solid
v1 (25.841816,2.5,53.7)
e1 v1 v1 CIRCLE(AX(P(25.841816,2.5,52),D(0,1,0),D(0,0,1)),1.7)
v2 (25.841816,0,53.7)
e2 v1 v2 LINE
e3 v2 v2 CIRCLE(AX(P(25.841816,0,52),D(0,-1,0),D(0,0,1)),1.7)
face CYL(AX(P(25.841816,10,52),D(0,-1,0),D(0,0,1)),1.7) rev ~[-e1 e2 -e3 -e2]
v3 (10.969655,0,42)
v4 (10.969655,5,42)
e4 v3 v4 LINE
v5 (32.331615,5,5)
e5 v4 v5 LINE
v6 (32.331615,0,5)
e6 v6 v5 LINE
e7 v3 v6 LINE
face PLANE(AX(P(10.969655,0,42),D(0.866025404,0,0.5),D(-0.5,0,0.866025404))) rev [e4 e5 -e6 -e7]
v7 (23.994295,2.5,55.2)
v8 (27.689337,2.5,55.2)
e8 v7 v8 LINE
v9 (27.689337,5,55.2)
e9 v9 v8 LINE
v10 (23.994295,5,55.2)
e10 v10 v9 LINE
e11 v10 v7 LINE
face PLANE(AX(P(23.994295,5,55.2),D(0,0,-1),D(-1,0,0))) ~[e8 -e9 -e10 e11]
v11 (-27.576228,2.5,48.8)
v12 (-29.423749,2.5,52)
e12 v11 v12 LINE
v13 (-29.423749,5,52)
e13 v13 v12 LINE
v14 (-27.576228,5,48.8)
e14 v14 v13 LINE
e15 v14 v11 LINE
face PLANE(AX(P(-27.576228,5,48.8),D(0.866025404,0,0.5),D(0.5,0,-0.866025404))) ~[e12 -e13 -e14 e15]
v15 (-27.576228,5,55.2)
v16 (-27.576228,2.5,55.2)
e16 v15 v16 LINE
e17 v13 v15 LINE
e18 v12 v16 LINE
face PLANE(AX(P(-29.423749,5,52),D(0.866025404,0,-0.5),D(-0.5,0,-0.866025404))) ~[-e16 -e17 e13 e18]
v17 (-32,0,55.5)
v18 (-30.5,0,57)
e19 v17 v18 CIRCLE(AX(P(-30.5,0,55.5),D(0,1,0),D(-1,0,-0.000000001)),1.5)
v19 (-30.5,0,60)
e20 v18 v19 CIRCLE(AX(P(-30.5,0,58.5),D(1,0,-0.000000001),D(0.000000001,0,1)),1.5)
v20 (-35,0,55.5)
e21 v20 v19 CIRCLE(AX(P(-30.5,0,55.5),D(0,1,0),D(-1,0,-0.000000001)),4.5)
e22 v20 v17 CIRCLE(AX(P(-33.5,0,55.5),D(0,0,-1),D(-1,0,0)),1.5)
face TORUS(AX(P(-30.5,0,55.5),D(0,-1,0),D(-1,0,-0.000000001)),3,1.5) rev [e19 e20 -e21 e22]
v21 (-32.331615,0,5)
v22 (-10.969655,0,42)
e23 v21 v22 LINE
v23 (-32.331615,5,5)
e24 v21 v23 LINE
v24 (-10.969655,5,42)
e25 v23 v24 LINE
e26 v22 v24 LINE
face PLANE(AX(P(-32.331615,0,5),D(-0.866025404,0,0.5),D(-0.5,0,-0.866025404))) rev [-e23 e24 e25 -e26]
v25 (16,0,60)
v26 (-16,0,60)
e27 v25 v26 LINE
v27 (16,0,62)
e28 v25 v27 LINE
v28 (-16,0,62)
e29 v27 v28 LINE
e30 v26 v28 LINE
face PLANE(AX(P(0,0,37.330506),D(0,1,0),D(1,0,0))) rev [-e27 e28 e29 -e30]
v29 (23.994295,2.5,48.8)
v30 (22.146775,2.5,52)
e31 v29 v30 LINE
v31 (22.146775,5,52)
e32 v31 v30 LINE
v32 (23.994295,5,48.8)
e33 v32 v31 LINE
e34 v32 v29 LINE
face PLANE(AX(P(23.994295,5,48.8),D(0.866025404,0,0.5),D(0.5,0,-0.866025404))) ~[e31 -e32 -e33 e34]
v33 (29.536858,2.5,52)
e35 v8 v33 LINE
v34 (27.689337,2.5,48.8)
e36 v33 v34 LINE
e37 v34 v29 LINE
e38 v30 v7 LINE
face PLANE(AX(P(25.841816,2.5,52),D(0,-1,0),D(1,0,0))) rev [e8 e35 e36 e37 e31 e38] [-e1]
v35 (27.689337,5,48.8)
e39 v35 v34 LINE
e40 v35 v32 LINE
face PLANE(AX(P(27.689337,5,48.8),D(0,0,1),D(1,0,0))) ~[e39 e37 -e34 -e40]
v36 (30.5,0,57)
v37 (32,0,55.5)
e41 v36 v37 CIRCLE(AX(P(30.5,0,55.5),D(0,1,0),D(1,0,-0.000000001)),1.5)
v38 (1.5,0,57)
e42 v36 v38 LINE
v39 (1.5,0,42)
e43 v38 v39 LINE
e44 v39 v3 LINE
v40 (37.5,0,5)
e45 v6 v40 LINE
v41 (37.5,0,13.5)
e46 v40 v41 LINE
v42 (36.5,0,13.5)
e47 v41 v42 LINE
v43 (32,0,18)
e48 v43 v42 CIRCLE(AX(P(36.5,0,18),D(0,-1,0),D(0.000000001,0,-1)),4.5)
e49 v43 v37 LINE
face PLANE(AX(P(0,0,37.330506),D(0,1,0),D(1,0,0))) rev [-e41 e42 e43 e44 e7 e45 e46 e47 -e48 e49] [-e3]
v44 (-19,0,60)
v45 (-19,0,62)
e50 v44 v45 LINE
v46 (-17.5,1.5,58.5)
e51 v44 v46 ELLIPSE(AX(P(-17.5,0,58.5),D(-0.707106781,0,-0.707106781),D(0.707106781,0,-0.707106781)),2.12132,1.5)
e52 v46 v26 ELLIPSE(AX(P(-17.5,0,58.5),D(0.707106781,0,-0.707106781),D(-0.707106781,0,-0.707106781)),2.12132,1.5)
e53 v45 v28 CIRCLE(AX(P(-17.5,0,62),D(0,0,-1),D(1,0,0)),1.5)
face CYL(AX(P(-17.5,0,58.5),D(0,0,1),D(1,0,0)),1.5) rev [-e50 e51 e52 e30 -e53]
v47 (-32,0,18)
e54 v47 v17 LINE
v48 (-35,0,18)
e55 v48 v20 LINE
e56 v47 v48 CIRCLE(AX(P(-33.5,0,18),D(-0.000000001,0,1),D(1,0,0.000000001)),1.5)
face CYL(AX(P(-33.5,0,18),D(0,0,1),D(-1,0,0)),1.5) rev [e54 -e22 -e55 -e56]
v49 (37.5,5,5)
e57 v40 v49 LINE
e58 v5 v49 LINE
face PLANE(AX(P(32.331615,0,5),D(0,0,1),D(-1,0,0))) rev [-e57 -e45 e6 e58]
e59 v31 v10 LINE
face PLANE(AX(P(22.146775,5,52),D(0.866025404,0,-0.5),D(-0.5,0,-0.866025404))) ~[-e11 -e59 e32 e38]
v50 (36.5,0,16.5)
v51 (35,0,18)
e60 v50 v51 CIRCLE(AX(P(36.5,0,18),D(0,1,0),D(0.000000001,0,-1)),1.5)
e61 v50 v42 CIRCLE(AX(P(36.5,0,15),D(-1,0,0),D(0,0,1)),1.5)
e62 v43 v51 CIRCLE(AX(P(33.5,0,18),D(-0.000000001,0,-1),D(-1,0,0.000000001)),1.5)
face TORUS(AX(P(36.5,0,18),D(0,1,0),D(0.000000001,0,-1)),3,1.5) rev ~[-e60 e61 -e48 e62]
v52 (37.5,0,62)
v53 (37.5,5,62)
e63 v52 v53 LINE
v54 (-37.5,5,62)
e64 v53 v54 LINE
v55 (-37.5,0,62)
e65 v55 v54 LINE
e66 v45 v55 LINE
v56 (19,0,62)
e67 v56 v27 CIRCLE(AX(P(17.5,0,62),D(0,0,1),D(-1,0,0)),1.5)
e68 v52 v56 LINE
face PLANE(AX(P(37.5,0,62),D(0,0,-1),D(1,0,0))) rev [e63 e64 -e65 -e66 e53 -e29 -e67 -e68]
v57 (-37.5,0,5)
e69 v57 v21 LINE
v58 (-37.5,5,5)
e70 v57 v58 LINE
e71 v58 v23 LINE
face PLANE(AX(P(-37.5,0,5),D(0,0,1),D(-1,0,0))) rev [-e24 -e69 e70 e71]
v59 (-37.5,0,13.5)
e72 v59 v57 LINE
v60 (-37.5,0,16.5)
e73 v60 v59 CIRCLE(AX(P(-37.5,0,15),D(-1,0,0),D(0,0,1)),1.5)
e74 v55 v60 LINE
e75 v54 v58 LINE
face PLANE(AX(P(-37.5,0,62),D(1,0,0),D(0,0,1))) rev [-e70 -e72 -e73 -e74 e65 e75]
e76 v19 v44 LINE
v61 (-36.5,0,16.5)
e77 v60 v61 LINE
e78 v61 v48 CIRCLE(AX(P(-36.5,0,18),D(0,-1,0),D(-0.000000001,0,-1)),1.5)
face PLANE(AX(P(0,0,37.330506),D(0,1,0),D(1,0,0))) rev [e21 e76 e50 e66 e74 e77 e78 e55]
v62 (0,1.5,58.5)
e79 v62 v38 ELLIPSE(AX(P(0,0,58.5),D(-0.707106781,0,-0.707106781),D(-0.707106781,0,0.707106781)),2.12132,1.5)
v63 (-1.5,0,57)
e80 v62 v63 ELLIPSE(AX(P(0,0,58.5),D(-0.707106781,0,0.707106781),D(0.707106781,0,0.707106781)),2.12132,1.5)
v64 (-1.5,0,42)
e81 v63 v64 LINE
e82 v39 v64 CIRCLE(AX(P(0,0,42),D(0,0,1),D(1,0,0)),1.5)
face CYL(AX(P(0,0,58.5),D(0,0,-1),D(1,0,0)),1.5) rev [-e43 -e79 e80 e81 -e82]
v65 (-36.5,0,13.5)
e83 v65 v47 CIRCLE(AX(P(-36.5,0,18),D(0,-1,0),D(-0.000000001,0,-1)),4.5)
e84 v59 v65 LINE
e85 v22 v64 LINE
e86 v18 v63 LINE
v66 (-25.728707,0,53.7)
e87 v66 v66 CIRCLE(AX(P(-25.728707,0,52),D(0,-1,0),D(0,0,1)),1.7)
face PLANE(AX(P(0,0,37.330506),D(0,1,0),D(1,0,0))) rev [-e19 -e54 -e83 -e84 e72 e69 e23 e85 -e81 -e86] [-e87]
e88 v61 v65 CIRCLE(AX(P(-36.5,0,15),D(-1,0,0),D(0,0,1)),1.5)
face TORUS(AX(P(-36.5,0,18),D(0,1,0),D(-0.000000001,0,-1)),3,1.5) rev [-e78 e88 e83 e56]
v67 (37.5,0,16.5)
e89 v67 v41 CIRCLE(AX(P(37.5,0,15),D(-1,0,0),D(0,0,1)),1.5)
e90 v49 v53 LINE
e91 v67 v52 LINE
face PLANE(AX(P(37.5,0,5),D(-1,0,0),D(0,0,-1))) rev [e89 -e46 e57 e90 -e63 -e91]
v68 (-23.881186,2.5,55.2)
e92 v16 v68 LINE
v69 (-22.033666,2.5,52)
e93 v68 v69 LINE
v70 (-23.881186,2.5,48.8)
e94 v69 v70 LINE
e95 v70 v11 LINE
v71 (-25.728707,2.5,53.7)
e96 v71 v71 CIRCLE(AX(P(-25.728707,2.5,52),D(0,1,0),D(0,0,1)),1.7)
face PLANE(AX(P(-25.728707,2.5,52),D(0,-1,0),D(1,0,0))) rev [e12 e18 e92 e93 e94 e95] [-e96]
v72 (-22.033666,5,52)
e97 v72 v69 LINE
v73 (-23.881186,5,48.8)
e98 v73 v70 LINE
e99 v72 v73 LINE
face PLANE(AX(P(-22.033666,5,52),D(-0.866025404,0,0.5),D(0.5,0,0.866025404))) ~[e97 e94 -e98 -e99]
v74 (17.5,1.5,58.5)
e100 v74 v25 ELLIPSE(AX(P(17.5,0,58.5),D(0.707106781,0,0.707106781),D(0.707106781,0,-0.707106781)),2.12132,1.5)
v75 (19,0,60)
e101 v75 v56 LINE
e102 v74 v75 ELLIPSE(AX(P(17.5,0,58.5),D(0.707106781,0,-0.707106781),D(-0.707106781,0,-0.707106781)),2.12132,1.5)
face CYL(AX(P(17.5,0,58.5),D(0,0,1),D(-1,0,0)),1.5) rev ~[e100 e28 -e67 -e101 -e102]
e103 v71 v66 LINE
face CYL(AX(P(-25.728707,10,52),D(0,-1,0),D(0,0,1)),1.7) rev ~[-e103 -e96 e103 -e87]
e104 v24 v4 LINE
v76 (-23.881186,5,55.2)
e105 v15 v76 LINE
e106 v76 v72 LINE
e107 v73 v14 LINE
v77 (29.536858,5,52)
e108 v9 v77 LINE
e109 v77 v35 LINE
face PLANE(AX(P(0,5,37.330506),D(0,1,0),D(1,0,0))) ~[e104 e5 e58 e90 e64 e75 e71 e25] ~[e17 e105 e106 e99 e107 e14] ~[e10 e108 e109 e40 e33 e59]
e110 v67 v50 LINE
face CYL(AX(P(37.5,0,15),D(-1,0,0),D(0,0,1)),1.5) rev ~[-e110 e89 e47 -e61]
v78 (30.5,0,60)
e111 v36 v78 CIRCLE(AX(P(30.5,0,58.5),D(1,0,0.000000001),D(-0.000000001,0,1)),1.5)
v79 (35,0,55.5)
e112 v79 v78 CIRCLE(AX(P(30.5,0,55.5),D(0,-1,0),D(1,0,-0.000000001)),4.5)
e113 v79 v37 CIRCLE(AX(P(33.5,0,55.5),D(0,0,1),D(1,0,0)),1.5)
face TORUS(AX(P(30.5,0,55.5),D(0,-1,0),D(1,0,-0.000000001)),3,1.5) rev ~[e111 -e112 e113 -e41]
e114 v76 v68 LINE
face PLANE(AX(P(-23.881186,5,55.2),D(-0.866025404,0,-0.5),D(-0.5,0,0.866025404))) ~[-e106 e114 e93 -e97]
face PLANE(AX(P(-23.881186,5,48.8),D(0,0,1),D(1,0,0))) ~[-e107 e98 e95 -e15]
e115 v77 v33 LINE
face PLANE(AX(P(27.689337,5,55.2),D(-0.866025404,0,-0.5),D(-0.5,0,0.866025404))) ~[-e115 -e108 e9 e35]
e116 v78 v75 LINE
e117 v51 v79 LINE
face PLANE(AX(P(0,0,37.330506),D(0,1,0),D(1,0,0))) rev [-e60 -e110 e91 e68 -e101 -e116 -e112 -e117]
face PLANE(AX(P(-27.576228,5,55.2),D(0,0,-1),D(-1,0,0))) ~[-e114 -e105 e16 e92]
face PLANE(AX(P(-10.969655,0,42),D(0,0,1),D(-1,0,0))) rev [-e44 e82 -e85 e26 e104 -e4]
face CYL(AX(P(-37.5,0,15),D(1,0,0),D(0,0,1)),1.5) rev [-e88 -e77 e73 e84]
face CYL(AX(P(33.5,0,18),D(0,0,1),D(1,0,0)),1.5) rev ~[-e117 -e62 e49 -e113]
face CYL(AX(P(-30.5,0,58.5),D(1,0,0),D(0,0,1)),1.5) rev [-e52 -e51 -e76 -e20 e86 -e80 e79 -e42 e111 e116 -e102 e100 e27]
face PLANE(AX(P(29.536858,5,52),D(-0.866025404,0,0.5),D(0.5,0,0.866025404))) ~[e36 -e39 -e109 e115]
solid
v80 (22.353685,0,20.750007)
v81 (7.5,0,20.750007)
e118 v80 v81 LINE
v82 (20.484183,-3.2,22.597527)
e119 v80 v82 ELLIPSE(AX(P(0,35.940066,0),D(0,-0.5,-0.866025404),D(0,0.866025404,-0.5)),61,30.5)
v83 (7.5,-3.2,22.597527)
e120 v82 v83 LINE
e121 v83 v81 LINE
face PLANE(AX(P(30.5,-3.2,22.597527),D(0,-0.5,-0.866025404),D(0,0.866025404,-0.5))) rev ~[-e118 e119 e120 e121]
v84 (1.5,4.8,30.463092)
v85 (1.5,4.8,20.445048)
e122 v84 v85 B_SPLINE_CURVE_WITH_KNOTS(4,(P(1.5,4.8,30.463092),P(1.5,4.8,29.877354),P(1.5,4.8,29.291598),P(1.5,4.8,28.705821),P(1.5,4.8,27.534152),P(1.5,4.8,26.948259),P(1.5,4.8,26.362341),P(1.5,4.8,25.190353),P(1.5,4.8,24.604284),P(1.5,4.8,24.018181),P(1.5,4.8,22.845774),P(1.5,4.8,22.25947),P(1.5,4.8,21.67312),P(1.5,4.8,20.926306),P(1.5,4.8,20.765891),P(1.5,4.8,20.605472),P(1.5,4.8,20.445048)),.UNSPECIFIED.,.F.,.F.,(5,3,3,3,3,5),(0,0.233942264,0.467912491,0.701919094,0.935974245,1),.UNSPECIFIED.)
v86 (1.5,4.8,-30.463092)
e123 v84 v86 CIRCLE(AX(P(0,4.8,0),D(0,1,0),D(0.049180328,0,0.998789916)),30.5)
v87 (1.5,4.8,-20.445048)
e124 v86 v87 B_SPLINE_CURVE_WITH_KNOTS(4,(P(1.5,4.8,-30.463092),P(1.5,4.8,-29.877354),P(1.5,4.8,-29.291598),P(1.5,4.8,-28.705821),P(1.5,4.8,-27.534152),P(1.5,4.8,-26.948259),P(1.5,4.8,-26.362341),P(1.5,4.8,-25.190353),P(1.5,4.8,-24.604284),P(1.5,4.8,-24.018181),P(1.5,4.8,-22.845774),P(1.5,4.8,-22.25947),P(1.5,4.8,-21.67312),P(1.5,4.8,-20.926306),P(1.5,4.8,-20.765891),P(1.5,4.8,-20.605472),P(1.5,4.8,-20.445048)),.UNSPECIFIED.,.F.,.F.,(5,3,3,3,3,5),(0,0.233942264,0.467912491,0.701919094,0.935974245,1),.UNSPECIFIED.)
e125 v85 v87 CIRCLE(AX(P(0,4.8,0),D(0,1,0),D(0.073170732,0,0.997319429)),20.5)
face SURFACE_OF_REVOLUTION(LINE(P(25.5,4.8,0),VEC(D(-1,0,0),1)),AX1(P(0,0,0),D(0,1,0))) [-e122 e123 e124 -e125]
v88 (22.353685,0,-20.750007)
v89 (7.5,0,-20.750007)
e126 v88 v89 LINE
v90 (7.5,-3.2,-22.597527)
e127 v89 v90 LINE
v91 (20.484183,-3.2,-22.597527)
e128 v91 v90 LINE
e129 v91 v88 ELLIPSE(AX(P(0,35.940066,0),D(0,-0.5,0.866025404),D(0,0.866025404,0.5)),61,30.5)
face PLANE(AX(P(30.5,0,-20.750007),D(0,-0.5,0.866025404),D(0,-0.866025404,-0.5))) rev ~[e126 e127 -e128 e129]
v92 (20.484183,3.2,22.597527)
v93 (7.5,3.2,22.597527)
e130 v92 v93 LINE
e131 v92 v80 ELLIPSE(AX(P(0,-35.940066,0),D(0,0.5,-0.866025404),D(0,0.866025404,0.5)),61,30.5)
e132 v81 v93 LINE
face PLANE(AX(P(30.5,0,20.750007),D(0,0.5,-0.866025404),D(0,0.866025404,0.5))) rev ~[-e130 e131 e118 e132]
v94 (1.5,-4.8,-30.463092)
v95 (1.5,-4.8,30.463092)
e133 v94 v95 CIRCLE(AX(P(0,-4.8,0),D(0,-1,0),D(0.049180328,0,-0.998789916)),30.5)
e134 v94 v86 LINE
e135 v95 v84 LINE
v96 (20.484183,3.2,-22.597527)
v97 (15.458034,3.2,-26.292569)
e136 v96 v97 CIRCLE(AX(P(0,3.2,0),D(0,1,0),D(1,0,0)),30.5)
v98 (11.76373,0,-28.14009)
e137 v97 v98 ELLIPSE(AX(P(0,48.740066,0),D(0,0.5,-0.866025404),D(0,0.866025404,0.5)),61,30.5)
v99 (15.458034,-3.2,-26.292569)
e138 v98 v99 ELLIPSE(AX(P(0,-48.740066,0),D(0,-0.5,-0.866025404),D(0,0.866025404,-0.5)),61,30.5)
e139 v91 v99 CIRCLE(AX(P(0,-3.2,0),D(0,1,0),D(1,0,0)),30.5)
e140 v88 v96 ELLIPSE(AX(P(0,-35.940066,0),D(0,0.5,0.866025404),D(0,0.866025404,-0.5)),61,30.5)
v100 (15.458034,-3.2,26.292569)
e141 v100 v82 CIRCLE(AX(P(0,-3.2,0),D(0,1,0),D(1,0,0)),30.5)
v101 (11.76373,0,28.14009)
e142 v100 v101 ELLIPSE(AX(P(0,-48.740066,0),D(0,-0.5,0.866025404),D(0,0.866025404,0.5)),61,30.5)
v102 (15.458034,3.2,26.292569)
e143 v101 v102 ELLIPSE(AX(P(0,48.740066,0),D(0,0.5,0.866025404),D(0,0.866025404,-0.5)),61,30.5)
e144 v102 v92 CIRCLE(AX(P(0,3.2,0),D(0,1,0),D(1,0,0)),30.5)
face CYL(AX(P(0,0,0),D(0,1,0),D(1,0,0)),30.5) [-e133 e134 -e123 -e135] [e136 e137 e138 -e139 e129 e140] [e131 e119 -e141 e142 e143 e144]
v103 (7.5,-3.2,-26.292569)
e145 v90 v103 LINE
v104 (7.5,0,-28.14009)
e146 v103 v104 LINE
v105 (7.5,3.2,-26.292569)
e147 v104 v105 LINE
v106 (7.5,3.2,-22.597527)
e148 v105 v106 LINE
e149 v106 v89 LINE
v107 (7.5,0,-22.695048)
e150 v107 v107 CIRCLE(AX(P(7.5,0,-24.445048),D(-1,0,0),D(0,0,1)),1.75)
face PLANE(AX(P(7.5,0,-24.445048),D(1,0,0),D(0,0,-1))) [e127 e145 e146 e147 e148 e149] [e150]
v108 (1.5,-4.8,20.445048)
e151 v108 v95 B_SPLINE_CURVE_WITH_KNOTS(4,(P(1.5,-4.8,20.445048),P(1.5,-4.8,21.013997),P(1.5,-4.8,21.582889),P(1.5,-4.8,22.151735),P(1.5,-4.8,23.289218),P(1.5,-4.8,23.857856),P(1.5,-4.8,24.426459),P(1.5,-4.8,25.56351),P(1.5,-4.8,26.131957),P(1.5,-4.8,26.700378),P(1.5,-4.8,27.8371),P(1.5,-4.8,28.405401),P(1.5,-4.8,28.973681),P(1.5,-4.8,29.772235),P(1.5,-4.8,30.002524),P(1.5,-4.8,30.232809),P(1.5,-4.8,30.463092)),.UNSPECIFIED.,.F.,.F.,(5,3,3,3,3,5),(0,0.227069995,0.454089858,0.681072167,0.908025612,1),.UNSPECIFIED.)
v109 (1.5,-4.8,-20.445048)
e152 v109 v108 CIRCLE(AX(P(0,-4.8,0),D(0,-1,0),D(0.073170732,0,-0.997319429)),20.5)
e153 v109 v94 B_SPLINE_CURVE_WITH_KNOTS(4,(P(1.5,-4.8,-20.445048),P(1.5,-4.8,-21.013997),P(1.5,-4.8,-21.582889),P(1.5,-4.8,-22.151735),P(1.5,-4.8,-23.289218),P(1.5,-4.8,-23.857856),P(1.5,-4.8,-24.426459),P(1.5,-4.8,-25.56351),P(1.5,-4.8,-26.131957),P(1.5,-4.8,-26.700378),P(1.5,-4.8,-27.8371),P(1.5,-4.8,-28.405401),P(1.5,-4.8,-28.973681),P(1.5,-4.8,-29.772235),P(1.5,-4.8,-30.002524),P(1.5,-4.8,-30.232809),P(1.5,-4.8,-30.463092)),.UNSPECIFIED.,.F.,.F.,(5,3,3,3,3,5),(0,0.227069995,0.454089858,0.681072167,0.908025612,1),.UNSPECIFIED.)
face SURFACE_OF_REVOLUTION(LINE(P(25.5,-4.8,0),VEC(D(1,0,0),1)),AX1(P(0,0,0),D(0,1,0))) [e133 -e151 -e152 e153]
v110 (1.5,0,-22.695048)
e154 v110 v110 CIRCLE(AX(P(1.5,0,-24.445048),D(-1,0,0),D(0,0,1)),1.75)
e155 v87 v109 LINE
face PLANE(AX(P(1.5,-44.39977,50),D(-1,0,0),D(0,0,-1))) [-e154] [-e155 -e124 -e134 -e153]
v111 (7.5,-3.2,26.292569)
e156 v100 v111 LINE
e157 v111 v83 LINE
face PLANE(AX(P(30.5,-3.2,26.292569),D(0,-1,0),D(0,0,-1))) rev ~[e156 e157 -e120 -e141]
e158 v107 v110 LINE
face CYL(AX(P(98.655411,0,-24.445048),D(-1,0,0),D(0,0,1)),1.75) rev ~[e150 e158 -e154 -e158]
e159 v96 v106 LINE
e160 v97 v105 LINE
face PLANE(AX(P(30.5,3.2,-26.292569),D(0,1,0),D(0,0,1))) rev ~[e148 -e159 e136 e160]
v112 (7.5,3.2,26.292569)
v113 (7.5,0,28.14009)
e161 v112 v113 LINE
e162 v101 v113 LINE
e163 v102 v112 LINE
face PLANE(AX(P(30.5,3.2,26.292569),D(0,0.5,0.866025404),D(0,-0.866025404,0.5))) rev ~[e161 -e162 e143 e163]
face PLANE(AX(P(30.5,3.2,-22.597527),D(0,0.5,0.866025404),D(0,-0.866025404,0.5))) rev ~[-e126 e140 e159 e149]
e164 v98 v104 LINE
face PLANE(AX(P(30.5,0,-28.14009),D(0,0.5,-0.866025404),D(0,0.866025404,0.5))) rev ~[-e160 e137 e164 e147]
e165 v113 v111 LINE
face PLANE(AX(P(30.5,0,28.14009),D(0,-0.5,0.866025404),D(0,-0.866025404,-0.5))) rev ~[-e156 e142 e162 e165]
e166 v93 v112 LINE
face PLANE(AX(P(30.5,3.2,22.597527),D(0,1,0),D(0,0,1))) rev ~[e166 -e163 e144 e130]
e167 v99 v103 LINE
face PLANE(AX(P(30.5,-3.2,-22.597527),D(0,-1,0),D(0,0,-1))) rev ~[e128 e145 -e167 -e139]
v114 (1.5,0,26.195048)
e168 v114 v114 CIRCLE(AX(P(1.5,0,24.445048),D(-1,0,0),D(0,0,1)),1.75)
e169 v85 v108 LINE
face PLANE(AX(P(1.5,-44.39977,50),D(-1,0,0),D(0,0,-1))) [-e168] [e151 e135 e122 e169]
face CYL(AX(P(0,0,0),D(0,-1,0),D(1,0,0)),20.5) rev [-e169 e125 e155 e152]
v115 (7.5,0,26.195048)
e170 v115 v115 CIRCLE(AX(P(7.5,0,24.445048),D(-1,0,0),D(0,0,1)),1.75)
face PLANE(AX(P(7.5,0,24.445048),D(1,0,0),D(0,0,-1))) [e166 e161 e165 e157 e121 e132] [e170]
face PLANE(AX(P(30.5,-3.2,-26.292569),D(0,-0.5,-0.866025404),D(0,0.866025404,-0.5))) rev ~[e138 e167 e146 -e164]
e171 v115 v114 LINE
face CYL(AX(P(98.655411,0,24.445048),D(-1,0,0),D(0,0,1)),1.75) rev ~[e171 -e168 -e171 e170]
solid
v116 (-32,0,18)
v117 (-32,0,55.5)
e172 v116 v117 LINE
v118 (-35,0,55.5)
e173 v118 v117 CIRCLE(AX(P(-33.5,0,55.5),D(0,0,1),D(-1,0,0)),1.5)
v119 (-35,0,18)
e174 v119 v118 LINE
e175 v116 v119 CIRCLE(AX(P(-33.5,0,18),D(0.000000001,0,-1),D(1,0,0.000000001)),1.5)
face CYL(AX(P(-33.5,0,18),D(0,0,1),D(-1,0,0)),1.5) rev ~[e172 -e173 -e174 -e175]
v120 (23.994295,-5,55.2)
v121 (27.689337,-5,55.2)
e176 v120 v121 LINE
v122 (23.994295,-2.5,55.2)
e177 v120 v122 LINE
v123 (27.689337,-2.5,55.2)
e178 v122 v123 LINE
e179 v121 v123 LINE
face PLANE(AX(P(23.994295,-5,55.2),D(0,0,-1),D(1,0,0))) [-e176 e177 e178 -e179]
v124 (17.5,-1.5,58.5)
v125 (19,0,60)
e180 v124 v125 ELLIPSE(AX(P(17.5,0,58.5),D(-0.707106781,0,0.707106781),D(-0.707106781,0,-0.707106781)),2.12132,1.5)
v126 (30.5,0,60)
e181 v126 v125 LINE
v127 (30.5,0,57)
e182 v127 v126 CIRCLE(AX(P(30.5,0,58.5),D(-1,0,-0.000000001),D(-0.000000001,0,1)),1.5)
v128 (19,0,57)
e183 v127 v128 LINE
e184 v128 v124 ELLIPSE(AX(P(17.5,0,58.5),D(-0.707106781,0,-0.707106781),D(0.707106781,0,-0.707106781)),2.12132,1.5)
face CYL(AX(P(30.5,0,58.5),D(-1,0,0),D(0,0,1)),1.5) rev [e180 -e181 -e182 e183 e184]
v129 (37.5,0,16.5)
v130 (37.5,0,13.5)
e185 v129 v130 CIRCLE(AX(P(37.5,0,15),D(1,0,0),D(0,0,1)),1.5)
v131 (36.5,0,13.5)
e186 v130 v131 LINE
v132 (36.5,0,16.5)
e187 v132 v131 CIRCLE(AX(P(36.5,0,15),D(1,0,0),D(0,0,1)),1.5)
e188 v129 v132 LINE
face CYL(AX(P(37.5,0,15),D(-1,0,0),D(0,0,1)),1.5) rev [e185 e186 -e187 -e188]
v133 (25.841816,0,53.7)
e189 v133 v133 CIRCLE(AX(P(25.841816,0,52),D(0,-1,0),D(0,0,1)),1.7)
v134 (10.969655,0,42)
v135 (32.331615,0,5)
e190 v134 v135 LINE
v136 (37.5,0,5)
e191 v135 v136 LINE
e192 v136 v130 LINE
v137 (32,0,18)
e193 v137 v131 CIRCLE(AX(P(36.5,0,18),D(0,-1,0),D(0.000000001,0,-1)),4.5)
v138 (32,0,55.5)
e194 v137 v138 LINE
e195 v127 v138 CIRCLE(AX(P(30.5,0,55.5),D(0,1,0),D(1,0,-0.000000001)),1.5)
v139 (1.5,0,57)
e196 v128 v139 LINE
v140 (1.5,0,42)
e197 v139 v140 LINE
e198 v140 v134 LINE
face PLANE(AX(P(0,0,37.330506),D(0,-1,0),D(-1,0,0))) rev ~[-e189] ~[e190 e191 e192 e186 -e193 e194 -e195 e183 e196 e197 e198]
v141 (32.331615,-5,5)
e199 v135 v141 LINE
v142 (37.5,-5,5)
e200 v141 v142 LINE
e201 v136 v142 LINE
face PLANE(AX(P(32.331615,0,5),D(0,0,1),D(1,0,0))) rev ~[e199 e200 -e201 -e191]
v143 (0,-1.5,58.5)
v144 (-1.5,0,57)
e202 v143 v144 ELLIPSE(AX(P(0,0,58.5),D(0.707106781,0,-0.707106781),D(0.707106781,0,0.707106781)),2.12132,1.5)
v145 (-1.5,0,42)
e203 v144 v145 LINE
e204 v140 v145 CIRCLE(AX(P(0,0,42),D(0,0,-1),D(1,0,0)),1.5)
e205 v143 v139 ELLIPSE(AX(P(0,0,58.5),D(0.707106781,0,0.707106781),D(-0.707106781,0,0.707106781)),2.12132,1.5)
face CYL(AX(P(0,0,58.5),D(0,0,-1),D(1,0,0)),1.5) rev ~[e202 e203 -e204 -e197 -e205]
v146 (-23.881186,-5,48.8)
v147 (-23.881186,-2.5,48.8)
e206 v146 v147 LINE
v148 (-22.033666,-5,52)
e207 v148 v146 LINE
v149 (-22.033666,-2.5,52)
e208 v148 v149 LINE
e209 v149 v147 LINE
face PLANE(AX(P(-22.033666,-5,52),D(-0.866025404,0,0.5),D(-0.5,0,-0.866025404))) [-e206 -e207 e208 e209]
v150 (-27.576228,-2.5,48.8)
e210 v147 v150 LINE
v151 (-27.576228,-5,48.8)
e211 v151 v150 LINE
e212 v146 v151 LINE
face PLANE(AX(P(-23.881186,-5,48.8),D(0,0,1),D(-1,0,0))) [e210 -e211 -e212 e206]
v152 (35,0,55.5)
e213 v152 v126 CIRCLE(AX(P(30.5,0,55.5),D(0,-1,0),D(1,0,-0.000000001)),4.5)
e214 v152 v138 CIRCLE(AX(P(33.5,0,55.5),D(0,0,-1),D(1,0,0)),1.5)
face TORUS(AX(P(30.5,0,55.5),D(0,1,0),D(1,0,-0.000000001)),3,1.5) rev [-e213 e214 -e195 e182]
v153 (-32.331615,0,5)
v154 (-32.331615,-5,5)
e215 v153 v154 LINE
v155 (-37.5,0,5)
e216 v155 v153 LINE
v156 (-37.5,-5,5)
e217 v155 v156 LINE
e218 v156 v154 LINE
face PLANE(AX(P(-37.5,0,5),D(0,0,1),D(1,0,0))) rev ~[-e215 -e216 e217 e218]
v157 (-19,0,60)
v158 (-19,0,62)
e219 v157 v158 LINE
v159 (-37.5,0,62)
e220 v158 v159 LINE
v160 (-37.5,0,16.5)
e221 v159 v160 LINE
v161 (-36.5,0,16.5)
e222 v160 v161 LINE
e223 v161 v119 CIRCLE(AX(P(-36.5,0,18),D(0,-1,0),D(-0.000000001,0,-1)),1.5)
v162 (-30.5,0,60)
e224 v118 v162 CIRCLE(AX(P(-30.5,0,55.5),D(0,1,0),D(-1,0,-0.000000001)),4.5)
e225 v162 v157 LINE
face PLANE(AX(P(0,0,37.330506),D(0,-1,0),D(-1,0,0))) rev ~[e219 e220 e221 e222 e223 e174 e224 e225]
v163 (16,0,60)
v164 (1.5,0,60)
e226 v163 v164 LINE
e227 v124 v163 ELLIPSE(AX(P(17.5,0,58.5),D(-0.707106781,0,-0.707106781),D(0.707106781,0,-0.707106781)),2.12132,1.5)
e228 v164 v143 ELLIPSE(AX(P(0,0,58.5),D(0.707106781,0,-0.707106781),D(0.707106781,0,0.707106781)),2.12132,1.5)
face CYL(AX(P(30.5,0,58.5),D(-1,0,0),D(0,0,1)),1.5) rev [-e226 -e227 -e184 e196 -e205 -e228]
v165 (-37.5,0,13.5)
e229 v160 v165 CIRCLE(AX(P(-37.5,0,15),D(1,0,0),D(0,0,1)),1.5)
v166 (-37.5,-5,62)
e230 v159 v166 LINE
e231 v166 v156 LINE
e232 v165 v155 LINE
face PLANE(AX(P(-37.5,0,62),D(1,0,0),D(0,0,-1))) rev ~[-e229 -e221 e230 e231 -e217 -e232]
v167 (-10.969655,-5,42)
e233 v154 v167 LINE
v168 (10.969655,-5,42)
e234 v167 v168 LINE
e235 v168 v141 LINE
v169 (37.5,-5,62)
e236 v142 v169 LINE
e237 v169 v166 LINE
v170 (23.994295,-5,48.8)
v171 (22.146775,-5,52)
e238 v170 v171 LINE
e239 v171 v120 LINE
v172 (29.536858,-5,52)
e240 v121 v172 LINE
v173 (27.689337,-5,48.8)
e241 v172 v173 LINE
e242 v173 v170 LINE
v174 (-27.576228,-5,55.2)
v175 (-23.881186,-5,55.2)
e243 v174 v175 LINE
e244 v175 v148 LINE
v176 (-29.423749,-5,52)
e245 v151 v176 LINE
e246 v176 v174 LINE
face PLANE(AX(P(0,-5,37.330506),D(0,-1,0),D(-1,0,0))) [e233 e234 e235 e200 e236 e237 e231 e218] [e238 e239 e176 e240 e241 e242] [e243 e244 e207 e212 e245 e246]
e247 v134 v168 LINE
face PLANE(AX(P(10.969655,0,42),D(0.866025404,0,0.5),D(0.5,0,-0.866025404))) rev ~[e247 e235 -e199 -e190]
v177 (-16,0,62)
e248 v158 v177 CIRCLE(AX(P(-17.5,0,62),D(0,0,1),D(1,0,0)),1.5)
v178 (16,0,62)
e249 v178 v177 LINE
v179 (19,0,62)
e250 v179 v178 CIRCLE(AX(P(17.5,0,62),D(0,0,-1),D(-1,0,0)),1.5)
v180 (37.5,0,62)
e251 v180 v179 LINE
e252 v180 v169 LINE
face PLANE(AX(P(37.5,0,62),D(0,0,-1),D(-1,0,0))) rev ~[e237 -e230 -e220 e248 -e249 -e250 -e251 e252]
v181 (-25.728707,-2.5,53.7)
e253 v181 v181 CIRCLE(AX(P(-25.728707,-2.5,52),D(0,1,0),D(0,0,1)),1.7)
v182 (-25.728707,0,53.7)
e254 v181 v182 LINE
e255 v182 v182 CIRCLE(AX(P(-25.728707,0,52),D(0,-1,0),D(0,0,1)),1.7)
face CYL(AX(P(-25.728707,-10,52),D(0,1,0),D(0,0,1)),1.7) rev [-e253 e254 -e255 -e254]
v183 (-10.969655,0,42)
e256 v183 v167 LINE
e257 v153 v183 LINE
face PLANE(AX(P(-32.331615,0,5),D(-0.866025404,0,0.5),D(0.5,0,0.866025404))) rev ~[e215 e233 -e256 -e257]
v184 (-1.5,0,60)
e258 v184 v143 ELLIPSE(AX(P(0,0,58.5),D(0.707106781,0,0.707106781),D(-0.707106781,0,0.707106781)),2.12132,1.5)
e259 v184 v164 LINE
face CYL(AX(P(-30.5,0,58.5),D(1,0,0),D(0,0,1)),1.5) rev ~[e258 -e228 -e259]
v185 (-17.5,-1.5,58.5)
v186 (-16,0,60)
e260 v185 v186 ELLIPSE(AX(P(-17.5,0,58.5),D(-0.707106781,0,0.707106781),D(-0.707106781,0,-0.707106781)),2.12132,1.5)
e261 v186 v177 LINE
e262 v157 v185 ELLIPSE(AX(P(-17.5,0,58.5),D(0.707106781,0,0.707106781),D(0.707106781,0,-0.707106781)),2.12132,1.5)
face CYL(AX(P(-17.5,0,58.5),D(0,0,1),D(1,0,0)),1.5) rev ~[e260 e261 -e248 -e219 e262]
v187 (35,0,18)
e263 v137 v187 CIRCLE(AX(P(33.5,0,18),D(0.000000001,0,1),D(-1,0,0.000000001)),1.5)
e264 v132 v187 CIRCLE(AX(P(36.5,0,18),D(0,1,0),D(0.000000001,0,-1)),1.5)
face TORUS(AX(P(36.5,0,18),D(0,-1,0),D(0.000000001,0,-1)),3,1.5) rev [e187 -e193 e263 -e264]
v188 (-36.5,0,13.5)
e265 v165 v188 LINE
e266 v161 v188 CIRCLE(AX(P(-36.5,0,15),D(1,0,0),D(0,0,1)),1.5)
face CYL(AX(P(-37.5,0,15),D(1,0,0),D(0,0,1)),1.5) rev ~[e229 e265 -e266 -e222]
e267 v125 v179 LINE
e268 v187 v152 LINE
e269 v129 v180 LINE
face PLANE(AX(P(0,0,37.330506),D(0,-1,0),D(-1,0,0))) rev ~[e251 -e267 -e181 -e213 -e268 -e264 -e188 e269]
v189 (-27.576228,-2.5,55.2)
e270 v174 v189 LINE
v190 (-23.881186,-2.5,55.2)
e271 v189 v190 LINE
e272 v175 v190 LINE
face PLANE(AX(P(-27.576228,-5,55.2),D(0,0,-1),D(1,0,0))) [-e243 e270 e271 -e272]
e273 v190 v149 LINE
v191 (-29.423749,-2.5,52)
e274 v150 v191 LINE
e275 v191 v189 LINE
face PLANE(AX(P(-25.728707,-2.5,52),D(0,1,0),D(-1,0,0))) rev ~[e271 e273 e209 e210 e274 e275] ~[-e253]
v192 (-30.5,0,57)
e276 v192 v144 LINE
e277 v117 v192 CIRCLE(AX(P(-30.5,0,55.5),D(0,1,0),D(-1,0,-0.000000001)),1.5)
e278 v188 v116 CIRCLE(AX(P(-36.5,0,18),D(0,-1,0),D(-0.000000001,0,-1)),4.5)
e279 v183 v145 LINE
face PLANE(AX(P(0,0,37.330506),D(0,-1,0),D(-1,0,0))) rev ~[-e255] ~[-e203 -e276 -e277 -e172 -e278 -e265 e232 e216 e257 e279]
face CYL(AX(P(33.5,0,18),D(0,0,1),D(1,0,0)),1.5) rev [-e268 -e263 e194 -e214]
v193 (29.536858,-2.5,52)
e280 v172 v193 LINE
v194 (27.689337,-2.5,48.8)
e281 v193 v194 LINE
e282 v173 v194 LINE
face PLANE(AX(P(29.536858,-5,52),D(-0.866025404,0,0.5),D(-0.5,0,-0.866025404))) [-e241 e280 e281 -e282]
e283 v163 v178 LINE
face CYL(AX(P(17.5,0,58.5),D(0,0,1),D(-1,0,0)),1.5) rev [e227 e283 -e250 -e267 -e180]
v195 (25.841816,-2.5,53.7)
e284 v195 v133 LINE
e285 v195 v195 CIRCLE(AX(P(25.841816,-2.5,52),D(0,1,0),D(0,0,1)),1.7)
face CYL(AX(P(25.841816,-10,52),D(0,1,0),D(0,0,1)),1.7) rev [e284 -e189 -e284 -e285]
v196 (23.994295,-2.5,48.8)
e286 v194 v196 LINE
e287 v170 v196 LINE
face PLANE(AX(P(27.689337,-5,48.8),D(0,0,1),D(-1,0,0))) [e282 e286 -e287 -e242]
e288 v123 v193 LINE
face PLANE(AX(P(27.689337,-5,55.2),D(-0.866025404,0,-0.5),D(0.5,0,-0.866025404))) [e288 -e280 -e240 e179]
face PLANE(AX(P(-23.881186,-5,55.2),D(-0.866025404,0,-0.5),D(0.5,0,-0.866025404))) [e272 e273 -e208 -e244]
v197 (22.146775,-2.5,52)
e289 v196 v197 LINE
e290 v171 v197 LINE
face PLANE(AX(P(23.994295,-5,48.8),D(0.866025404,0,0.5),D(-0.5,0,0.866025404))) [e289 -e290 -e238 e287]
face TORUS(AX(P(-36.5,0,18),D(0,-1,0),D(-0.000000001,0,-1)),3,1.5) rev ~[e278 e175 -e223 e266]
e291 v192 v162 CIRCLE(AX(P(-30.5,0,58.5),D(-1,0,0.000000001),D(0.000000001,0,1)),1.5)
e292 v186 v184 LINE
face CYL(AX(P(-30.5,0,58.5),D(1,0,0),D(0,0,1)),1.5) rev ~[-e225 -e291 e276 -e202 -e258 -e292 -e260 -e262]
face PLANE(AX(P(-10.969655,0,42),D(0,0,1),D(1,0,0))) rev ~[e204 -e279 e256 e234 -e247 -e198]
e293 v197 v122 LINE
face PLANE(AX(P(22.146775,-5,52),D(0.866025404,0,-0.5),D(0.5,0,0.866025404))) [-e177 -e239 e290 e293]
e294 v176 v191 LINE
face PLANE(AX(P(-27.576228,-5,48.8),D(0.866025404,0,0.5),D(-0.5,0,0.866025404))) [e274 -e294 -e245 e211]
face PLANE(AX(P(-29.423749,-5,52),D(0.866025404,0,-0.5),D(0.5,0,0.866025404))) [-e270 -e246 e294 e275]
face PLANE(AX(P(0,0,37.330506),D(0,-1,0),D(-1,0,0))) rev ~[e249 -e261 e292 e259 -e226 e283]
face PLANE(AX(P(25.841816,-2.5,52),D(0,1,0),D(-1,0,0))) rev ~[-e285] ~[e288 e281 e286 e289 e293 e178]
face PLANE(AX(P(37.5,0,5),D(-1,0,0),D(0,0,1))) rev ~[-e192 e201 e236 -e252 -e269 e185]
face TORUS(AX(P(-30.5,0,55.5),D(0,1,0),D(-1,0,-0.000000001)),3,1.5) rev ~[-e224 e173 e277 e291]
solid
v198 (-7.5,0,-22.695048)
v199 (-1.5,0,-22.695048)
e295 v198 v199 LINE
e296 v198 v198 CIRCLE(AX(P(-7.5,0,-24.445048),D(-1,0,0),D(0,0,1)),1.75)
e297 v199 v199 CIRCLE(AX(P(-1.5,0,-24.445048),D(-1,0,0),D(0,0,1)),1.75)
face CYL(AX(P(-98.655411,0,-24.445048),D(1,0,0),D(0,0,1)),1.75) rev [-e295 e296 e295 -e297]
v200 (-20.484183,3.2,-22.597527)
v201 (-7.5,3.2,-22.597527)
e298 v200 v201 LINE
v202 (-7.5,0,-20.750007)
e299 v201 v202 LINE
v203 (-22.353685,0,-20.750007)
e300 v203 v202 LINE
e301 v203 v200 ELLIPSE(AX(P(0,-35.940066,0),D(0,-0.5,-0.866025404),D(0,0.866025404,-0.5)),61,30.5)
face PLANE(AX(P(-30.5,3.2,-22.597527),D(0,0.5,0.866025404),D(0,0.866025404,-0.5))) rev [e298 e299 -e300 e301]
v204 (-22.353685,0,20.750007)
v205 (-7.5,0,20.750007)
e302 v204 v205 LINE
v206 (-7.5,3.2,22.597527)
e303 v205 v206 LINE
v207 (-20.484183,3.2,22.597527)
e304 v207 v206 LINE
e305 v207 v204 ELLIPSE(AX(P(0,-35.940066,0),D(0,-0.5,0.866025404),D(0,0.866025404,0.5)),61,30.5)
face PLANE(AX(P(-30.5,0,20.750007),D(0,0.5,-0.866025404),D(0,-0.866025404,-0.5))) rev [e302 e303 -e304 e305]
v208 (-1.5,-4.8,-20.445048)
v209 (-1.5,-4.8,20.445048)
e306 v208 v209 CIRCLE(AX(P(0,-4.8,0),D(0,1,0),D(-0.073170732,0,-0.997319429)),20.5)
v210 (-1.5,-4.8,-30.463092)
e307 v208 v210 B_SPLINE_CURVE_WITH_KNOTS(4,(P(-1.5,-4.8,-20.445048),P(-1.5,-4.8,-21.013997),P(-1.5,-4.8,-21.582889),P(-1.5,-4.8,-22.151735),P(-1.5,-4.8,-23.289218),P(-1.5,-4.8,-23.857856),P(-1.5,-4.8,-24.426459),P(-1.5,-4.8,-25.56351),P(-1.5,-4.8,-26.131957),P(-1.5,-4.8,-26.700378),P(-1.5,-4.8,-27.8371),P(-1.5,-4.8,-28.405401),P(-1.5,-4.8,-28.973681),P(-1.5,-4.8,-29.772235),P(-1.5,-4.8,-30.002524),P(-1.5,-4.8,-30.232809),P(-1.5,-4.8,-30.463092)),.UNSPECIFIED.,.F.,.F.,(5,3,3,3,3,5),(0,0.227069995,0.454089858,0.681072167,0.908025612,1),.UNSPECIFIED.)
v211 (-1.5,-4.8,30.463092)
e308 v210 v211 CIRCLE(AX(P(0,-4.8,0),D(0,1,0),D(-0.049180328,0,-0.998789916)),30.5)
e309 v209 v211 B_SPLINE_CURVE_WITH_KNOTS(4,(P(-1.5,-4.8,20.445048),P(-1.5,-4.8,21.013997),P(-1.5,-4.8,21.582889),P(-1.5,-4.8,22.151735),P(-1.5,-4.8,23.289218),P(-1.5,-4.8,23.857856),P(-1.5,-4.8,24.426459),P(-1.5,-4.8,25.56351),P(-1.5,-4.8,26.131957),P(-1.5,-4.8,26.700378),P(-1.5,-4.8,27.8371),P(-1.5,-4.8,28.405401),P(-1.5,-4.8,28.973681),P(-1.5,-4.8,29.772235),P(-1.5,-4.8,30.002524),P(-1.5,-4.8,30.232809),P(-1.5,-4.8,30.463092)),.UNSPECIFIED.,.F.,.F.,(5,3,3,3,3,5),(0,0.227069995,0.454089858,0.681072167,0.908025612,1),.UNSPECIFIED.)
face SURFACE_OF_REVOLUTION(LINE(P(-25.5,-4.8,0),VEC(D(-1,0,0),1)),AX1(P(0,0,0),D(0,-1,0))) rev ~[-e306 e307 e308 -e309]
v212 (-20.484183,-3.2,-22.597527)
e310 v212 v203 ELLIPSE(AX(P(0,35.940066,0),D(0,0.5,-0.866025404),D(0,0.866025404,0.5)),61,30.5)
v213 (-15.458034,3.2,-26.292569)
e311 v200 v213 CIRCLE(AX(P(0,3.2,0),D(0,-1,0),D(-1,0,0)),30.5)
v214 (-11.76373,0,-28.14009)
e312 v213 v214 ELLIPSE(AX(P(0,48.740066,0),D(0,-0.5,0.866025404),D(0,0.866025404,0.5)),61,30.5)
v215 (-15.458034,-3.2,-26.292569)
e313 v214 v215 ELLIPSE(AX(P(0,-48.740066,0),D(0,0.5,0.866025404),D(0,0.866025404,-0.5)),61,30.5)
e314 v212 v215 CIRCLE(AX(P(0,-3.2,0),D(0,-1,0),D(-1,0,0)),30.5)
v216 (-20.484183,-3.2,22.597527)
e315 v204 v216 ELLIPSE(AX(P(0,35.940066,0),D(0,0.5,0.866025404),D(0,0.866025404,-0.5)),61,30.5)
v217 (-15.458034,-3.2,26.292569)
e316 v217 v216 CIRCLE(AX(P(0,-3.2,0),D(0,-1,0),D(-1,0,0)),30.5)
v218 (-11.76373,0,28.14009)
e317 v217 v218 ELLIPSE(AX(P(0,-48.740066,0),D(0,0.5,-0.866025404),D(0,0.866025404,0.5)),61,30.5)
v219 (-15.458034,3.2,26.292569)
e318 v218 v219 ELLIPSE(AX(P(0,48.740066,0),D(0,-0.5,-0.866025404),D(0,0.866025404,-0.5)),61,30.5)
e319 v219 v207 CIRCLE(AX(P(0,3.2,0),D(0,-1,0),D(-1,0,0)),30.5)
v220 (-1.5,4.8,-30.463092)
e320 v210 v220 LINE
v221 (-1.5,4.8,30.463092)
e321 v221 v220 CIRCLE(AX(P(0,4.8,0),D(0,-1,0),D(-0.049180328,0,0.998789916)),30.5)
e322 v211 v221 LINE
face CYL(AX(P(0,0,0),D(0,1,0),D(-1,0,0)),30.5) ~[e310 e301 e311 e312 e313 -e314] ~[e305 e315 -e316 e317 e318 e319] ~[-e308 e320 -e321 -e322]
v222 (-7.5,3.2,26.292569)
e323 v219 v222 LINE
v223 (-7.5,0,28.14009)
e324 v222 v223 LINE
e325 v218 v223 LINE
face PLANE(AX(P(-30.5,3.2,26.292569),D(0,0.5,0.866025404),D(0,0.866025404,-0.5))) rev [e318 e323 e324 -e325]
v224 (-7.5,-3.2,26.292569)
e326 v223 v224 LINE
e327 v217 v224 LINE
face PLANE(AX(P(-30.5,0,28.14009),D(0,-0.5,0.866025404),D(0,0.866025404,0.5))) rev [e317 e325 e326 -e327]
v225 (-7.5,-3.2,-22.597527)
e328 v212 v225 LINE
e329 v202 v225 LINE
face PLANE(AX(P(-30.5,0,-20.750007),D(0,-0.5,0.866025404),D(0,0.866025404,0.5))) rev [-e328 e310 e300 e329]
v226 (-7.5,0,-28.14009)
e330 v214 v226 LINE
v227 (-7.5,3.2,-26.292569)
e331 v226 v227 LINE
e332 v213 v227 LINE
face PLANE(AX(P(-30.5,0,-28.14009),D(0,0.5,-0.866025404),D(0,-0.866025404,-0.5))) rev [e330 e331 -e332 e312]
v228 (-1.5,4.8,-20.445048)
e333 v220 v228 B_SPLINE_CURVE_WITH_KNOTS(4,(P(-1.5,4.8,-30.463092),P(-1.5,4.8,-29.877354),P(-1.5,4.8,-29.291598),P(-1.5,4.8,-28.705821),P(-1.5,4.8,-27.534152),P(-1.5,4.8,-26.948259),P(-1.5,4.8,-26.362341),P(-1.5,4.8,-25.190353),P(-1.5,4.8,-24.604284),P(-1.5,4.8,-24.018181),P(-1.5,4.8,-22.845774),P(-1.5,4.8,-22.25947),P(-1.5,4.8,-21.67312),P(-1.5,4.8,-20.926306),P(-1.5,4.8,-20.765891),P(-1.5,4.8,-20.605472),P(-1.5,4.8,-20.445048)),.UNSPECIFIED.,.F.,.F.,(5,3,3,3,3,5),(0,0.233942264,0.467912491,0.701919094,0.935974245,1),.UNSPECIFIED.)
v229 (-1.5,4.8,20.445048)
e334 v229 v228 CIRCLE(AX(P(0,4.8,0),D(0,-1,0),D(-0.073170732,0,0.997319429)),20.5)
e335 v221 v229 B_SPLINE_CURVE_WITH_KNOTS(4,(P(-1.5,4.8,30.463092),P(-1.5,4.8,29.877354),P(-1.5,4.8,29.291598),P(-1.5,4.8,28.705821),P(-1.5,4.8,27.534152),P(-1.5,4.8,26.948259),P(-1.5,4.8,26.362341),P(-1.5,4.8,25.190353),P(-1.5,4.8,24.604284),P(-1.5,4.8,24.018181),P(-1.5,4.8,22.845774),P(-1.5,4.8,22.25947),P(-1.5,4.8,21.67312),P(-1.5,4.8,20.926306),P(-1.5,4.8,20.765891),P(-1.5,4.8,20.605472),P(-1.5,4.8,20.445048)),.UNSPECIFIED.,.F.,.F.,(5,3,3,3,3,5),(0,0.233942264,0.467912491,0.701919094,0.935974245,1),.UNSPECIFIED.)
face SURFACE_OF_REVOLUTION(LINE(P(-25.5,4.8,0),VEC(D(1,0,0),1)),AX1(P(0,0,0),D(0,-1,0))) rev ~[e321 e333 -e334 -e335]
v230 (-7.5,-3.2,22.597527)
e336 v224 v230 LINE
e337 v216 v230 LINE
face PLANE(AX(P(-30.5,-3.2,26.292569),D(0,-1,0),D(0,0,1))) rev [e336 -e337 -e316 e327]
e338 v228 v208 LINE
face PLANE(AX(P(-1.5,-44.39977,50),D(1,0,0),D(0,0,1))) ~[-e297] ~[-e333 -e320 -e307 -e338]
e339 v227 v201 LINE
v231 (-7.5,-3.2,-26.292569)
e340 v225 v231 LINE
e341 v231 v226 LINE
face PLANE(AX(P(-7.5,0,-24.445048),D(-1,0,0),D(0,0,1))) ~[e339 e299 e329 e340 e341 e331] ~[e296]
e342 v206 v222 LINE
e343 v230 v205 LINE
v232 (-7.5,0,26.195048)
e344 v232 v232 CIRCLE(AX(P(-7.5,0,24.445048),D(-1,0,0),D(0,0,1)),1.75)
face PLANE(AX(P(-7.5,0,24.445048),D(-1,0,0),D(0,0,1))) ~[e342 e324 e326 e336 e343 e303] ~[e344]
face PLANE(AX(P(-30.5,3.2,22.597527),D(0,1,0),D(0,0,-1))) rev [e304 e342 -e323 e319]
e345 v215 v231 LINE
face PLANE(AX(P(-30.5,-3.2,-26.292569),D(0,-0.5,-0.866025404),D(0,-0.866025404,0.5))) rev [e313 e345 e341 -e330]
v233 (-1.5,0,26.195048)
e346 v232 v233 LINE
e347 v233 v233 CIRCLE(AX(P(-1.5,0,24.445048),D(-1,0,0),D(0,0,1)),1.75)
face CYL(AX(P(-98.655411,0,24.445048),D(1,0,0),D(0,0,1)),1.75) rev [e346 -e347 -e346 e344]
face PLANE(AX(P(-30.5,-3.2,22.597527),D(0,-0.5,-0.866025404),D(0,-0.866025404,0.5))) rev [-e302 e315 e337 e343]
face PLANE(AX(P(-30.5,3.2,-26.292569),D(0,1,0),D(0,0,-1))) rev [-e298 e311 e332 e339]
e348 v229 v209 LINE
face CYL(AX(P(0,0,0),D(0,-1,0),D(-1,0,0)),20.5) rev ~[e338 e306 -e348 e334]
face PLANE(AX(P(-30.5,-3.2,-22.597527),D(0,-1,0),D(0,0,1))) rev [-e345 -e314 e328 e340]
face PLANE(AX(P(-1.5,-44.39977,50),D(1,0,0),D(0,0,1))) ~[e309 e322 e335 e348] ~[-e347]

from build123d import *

# Parameters (mm, degrees)
SKETCH_3_W                       = 10
SKETCH_3_H                       = 9.6
CUT_EXTRUDE_1_DEPTH              = 44.399769585
CUT_EXTRUDE_1_DEPTH_BACK         = 44.399769585
SKETCH_5_W                       = 32
SKETCH_5_H                       = 100
HOLE_WIZARD_3_5_3_5_1_D          = 3.5
CUT_EXTRUDE_5_DEPTH              = 23
EXTRUDE_1_DEPTH                  = 5
SKETCH_14_R                      = 1.5
SKETCH_14_3_R                    = 1.5
HOLE_WIZARD_3_4_3_4_1_AT_2_COUNT = 2
HOLE_WIZARD_3_4_3_4_1_AT_2_PITCH = 51.570523521
CUT_EXTRUDE_4_DEPTH              = 2.5


with BuildPart() as part:
    # 掃出1: sweep along a path in 草圖2
    with BuildLine(Plane(origin=(0, 0, 0), x_dir=(1, 0, 0), z_dir=(0, 1, 0))) as sweep_1_path:
        CenterArc((0, 0), 20.5, 0, 360)
    # 草圖3 → 掃出1 (sweep)
    with BuildSketch(Plane(origin=(0, 0, 0), x_dir=(0, 0, -1), z_dir=(1, 0, 0))):
        with Locations((25.5, 0)):
            Rectangle(SKETCH_3_W, SKETCH_3_H)
    sweep(path=sweep_1_path.line)

    # 草圖5 → 除料-伸長1 (cut, two sides: drawn at the far end of the back side and taken through both)
    with BuildSketch(Plane(origin=(0, 0, 0), x_dir=(1, 0, 0), z_dir=(0, 1, 0)).offset(-CUT_EXTRUDE_1_DEPTH_BACK)):
        with Locations((-14.5, 0)):
            Rectangle(SKETCH_5_W, SKETCH_5_H)
    extrude(amount=CUT_EXTRUDE_1_DEPTH + CUT_EXTRUDE_1_DEPTH_BACK, mode=Mode.SUBTRACT)

    # Ø3.5 (3.5) 直徑孔1 (through all)
    with Locations(Plane(origin=(30.5, 0, 0), x_dir=(0, 0, -1), z_dir=(1, 0, 0))):
        with Locations((-24.4450483, 0), (24.4450483, 0)):
            Hole(HOLE_WIZARD_3_5_3_5_1_D / 2)

    # 草圖6 → 除料-伸長5 (cut)
    with BuildSketch(Plane(origin=(30.5, 0, 0), x_dir=(0, 0, -1), z_dir=(1, 0, 0))):
        Polygon((28.140090023, 0), (26.292569162, 3.2), (22.597527439, 3.2), (20.750006577, 0), (22.597527439, -3.2), (26.292569162, -3.2), align=None)
        Polygon((-20.750006577, 0), (-22.597527439, 3.2), (-26.292569162, 3.2), (-28.140090023, 0), (-26.292569162, -3.2), (-22.597527439, -3.2), align=None)
    extrude(amount=-CUT_EXTRUDE_5_DEPTH, mode=Mode.SUBTRACT)


with BuildPart() as body_2:
    # 鏡射8: mirrored copy
    add(part.part.mirror(Plane(origin=(0, 0, 0), x_dir=(0, 0, 1), z_dir=(1, 0, 0))))


with BuildPart() as body_3:
    # 草圖12 → 填料-伸長1 (new body)
    with BuildSketch(Plane(origin=(0, 0, 0), x_dir=(1, 0, 0), z_dir=(0, 1, 0))):
        Polygon((-32.331615075, -5), (-10.969655115, -42), (10.969655115, -42), (32.331615075, -5), (37.5, -5), (37.5, -62), (-37.5, -62), (-37.5, -5), align=None)
    extrude(amount=-EXTRUDE_1_DEPTH)

    # 除料-掃出2: sweep along a path in 草圖17
    with BuildLine(Plane(origin=(0, -5, 0), x_dir=(-1, 0, 0), z_dir=(0, -1, 0))) as sweep_2_path:
        Line((37.5, -15), (36.5, -15))
        ThreePointArc((36.5, -15), (34.378679656, -15.878679656), (33.5, -18))
        Line((33.5, -18), (33.5, -55.5))
        ThreePointArc((33.5, -55.5), (32.621320344, -57.621320344), (30.5, -58.5))
        Line((30.5, -58.5), (0, -58.5))
        Line((0, -58.5), (0, -42))
    # 草圖14 → 除料-掃出2 (sweep, cut)
    with BuildSketch(Plane.XY.offset(42)):
        Circle(SKETCH_14_R)
    sweep_2 = sweep(path=sweep_2_path.line, transition=Transition.RIGHT, mode=Mode.SUBTRACT)

    # 除料-掃出3: sweep along a path in 草圖18
    with BuildLine(Plane(origin=(0, -5, 0), x_dir=(-1, 0, 0), z_dir=(0, -1, 0))) as sweep_3_path:
        Line((0, -42), (0, -58.5))
        Line((0, -58.5), (17.5, -58.5))
        Line((17.5, -58.5), (17.5, -62))
    # 草圖14<3> → 除料-掃出3 (sweep, cut)
    with BuildSketch(Plane.XY.offset(42)):
        Circle(SKETCH_14_3_R)
    sweep_3 = sweep(path=sweep_3_path.line, transition=Transition.RIGHT, mode=Mode.SUBTRACT)

    # 鏡射2: 除料-掃出2, 除料-掃出3 across plane
    add(sweep_2.mirror(Plane(origin=(0, 0, 0), x_dir=(0, 0, 1), z_dir=(1, 0, 0))), mode=Mode.SUBTRACT)
    add(sweep_3.mirror(Plane(origin=(0, 0, 0), x_dir=(0, 0, 1), z_dir=(1, 0, 0))), mode=Mode.SUBTRACT)

    # 草圖21 → Ø3.4 (3.4) 直徑孔1 (revolve, cut)
    with BuildSketch(Plane(origin=(25.841816277, 0, 52), x_dir=(0, 0, 1), z_dir=(1, 0, 0))):
        Polygon((0, 0), (0, 11.021463052), (1.7, 10), (1.7, 0), align=None)
    hole_wizard_3_4_3_4_1 = revolve(axis=Axis((25.841816277, 6.35, 52), (0, -1, 0)), mode=Mode.SUBTRACT)

    # Ø3.4 (3.4) 直徑孔1 at 2: Ø3.4 (3.4) 直徑孔1 ×2
    with Locations(*[(-i * HOLE_WIZARD_3_4_3_4_1_AT_2_PITCH, 0, 0) for i in range(1, HOLE_WIZARD_3_4_3_4_1_AT_2_COUNT)]):
        add(hole_wizard_3_4_3_4_1, mode=Mode.SUBTRACT)

    # 草圖19 → 除料-伸長4 (cut)
    with BuildSketch(Plane(origin=(0, -5, 0), x_dir=(-1, 0, 0), z_dir=(0, 1, 0))):
        Polygon((-27.689337138, 55.2), (-29.536858, 52), (-27.689337138, 48.8), (-23.994295415, 48.8), (-22.146774554, 52), (-23.994295415, 55.2), align=None)
        Polygon((23.881186383, 55.2), (22.033665521, 52), (23.881186383, 48.8), (27.576228105, 48.8), (29.423748967, 52), (27.576228105, 55.2), align=None)
    extrude(amount=CUT_EXTRUDE_4_DEPTH, mode=Mode.SUBTRACT)


with BuildPart() as body_4:
    # 鏡射9: mirrored copy
    add(body_3.part.mirror(Plane.ZX))


solid = Compound([part.part, body_2.part, body_3.part, body_4.part])
